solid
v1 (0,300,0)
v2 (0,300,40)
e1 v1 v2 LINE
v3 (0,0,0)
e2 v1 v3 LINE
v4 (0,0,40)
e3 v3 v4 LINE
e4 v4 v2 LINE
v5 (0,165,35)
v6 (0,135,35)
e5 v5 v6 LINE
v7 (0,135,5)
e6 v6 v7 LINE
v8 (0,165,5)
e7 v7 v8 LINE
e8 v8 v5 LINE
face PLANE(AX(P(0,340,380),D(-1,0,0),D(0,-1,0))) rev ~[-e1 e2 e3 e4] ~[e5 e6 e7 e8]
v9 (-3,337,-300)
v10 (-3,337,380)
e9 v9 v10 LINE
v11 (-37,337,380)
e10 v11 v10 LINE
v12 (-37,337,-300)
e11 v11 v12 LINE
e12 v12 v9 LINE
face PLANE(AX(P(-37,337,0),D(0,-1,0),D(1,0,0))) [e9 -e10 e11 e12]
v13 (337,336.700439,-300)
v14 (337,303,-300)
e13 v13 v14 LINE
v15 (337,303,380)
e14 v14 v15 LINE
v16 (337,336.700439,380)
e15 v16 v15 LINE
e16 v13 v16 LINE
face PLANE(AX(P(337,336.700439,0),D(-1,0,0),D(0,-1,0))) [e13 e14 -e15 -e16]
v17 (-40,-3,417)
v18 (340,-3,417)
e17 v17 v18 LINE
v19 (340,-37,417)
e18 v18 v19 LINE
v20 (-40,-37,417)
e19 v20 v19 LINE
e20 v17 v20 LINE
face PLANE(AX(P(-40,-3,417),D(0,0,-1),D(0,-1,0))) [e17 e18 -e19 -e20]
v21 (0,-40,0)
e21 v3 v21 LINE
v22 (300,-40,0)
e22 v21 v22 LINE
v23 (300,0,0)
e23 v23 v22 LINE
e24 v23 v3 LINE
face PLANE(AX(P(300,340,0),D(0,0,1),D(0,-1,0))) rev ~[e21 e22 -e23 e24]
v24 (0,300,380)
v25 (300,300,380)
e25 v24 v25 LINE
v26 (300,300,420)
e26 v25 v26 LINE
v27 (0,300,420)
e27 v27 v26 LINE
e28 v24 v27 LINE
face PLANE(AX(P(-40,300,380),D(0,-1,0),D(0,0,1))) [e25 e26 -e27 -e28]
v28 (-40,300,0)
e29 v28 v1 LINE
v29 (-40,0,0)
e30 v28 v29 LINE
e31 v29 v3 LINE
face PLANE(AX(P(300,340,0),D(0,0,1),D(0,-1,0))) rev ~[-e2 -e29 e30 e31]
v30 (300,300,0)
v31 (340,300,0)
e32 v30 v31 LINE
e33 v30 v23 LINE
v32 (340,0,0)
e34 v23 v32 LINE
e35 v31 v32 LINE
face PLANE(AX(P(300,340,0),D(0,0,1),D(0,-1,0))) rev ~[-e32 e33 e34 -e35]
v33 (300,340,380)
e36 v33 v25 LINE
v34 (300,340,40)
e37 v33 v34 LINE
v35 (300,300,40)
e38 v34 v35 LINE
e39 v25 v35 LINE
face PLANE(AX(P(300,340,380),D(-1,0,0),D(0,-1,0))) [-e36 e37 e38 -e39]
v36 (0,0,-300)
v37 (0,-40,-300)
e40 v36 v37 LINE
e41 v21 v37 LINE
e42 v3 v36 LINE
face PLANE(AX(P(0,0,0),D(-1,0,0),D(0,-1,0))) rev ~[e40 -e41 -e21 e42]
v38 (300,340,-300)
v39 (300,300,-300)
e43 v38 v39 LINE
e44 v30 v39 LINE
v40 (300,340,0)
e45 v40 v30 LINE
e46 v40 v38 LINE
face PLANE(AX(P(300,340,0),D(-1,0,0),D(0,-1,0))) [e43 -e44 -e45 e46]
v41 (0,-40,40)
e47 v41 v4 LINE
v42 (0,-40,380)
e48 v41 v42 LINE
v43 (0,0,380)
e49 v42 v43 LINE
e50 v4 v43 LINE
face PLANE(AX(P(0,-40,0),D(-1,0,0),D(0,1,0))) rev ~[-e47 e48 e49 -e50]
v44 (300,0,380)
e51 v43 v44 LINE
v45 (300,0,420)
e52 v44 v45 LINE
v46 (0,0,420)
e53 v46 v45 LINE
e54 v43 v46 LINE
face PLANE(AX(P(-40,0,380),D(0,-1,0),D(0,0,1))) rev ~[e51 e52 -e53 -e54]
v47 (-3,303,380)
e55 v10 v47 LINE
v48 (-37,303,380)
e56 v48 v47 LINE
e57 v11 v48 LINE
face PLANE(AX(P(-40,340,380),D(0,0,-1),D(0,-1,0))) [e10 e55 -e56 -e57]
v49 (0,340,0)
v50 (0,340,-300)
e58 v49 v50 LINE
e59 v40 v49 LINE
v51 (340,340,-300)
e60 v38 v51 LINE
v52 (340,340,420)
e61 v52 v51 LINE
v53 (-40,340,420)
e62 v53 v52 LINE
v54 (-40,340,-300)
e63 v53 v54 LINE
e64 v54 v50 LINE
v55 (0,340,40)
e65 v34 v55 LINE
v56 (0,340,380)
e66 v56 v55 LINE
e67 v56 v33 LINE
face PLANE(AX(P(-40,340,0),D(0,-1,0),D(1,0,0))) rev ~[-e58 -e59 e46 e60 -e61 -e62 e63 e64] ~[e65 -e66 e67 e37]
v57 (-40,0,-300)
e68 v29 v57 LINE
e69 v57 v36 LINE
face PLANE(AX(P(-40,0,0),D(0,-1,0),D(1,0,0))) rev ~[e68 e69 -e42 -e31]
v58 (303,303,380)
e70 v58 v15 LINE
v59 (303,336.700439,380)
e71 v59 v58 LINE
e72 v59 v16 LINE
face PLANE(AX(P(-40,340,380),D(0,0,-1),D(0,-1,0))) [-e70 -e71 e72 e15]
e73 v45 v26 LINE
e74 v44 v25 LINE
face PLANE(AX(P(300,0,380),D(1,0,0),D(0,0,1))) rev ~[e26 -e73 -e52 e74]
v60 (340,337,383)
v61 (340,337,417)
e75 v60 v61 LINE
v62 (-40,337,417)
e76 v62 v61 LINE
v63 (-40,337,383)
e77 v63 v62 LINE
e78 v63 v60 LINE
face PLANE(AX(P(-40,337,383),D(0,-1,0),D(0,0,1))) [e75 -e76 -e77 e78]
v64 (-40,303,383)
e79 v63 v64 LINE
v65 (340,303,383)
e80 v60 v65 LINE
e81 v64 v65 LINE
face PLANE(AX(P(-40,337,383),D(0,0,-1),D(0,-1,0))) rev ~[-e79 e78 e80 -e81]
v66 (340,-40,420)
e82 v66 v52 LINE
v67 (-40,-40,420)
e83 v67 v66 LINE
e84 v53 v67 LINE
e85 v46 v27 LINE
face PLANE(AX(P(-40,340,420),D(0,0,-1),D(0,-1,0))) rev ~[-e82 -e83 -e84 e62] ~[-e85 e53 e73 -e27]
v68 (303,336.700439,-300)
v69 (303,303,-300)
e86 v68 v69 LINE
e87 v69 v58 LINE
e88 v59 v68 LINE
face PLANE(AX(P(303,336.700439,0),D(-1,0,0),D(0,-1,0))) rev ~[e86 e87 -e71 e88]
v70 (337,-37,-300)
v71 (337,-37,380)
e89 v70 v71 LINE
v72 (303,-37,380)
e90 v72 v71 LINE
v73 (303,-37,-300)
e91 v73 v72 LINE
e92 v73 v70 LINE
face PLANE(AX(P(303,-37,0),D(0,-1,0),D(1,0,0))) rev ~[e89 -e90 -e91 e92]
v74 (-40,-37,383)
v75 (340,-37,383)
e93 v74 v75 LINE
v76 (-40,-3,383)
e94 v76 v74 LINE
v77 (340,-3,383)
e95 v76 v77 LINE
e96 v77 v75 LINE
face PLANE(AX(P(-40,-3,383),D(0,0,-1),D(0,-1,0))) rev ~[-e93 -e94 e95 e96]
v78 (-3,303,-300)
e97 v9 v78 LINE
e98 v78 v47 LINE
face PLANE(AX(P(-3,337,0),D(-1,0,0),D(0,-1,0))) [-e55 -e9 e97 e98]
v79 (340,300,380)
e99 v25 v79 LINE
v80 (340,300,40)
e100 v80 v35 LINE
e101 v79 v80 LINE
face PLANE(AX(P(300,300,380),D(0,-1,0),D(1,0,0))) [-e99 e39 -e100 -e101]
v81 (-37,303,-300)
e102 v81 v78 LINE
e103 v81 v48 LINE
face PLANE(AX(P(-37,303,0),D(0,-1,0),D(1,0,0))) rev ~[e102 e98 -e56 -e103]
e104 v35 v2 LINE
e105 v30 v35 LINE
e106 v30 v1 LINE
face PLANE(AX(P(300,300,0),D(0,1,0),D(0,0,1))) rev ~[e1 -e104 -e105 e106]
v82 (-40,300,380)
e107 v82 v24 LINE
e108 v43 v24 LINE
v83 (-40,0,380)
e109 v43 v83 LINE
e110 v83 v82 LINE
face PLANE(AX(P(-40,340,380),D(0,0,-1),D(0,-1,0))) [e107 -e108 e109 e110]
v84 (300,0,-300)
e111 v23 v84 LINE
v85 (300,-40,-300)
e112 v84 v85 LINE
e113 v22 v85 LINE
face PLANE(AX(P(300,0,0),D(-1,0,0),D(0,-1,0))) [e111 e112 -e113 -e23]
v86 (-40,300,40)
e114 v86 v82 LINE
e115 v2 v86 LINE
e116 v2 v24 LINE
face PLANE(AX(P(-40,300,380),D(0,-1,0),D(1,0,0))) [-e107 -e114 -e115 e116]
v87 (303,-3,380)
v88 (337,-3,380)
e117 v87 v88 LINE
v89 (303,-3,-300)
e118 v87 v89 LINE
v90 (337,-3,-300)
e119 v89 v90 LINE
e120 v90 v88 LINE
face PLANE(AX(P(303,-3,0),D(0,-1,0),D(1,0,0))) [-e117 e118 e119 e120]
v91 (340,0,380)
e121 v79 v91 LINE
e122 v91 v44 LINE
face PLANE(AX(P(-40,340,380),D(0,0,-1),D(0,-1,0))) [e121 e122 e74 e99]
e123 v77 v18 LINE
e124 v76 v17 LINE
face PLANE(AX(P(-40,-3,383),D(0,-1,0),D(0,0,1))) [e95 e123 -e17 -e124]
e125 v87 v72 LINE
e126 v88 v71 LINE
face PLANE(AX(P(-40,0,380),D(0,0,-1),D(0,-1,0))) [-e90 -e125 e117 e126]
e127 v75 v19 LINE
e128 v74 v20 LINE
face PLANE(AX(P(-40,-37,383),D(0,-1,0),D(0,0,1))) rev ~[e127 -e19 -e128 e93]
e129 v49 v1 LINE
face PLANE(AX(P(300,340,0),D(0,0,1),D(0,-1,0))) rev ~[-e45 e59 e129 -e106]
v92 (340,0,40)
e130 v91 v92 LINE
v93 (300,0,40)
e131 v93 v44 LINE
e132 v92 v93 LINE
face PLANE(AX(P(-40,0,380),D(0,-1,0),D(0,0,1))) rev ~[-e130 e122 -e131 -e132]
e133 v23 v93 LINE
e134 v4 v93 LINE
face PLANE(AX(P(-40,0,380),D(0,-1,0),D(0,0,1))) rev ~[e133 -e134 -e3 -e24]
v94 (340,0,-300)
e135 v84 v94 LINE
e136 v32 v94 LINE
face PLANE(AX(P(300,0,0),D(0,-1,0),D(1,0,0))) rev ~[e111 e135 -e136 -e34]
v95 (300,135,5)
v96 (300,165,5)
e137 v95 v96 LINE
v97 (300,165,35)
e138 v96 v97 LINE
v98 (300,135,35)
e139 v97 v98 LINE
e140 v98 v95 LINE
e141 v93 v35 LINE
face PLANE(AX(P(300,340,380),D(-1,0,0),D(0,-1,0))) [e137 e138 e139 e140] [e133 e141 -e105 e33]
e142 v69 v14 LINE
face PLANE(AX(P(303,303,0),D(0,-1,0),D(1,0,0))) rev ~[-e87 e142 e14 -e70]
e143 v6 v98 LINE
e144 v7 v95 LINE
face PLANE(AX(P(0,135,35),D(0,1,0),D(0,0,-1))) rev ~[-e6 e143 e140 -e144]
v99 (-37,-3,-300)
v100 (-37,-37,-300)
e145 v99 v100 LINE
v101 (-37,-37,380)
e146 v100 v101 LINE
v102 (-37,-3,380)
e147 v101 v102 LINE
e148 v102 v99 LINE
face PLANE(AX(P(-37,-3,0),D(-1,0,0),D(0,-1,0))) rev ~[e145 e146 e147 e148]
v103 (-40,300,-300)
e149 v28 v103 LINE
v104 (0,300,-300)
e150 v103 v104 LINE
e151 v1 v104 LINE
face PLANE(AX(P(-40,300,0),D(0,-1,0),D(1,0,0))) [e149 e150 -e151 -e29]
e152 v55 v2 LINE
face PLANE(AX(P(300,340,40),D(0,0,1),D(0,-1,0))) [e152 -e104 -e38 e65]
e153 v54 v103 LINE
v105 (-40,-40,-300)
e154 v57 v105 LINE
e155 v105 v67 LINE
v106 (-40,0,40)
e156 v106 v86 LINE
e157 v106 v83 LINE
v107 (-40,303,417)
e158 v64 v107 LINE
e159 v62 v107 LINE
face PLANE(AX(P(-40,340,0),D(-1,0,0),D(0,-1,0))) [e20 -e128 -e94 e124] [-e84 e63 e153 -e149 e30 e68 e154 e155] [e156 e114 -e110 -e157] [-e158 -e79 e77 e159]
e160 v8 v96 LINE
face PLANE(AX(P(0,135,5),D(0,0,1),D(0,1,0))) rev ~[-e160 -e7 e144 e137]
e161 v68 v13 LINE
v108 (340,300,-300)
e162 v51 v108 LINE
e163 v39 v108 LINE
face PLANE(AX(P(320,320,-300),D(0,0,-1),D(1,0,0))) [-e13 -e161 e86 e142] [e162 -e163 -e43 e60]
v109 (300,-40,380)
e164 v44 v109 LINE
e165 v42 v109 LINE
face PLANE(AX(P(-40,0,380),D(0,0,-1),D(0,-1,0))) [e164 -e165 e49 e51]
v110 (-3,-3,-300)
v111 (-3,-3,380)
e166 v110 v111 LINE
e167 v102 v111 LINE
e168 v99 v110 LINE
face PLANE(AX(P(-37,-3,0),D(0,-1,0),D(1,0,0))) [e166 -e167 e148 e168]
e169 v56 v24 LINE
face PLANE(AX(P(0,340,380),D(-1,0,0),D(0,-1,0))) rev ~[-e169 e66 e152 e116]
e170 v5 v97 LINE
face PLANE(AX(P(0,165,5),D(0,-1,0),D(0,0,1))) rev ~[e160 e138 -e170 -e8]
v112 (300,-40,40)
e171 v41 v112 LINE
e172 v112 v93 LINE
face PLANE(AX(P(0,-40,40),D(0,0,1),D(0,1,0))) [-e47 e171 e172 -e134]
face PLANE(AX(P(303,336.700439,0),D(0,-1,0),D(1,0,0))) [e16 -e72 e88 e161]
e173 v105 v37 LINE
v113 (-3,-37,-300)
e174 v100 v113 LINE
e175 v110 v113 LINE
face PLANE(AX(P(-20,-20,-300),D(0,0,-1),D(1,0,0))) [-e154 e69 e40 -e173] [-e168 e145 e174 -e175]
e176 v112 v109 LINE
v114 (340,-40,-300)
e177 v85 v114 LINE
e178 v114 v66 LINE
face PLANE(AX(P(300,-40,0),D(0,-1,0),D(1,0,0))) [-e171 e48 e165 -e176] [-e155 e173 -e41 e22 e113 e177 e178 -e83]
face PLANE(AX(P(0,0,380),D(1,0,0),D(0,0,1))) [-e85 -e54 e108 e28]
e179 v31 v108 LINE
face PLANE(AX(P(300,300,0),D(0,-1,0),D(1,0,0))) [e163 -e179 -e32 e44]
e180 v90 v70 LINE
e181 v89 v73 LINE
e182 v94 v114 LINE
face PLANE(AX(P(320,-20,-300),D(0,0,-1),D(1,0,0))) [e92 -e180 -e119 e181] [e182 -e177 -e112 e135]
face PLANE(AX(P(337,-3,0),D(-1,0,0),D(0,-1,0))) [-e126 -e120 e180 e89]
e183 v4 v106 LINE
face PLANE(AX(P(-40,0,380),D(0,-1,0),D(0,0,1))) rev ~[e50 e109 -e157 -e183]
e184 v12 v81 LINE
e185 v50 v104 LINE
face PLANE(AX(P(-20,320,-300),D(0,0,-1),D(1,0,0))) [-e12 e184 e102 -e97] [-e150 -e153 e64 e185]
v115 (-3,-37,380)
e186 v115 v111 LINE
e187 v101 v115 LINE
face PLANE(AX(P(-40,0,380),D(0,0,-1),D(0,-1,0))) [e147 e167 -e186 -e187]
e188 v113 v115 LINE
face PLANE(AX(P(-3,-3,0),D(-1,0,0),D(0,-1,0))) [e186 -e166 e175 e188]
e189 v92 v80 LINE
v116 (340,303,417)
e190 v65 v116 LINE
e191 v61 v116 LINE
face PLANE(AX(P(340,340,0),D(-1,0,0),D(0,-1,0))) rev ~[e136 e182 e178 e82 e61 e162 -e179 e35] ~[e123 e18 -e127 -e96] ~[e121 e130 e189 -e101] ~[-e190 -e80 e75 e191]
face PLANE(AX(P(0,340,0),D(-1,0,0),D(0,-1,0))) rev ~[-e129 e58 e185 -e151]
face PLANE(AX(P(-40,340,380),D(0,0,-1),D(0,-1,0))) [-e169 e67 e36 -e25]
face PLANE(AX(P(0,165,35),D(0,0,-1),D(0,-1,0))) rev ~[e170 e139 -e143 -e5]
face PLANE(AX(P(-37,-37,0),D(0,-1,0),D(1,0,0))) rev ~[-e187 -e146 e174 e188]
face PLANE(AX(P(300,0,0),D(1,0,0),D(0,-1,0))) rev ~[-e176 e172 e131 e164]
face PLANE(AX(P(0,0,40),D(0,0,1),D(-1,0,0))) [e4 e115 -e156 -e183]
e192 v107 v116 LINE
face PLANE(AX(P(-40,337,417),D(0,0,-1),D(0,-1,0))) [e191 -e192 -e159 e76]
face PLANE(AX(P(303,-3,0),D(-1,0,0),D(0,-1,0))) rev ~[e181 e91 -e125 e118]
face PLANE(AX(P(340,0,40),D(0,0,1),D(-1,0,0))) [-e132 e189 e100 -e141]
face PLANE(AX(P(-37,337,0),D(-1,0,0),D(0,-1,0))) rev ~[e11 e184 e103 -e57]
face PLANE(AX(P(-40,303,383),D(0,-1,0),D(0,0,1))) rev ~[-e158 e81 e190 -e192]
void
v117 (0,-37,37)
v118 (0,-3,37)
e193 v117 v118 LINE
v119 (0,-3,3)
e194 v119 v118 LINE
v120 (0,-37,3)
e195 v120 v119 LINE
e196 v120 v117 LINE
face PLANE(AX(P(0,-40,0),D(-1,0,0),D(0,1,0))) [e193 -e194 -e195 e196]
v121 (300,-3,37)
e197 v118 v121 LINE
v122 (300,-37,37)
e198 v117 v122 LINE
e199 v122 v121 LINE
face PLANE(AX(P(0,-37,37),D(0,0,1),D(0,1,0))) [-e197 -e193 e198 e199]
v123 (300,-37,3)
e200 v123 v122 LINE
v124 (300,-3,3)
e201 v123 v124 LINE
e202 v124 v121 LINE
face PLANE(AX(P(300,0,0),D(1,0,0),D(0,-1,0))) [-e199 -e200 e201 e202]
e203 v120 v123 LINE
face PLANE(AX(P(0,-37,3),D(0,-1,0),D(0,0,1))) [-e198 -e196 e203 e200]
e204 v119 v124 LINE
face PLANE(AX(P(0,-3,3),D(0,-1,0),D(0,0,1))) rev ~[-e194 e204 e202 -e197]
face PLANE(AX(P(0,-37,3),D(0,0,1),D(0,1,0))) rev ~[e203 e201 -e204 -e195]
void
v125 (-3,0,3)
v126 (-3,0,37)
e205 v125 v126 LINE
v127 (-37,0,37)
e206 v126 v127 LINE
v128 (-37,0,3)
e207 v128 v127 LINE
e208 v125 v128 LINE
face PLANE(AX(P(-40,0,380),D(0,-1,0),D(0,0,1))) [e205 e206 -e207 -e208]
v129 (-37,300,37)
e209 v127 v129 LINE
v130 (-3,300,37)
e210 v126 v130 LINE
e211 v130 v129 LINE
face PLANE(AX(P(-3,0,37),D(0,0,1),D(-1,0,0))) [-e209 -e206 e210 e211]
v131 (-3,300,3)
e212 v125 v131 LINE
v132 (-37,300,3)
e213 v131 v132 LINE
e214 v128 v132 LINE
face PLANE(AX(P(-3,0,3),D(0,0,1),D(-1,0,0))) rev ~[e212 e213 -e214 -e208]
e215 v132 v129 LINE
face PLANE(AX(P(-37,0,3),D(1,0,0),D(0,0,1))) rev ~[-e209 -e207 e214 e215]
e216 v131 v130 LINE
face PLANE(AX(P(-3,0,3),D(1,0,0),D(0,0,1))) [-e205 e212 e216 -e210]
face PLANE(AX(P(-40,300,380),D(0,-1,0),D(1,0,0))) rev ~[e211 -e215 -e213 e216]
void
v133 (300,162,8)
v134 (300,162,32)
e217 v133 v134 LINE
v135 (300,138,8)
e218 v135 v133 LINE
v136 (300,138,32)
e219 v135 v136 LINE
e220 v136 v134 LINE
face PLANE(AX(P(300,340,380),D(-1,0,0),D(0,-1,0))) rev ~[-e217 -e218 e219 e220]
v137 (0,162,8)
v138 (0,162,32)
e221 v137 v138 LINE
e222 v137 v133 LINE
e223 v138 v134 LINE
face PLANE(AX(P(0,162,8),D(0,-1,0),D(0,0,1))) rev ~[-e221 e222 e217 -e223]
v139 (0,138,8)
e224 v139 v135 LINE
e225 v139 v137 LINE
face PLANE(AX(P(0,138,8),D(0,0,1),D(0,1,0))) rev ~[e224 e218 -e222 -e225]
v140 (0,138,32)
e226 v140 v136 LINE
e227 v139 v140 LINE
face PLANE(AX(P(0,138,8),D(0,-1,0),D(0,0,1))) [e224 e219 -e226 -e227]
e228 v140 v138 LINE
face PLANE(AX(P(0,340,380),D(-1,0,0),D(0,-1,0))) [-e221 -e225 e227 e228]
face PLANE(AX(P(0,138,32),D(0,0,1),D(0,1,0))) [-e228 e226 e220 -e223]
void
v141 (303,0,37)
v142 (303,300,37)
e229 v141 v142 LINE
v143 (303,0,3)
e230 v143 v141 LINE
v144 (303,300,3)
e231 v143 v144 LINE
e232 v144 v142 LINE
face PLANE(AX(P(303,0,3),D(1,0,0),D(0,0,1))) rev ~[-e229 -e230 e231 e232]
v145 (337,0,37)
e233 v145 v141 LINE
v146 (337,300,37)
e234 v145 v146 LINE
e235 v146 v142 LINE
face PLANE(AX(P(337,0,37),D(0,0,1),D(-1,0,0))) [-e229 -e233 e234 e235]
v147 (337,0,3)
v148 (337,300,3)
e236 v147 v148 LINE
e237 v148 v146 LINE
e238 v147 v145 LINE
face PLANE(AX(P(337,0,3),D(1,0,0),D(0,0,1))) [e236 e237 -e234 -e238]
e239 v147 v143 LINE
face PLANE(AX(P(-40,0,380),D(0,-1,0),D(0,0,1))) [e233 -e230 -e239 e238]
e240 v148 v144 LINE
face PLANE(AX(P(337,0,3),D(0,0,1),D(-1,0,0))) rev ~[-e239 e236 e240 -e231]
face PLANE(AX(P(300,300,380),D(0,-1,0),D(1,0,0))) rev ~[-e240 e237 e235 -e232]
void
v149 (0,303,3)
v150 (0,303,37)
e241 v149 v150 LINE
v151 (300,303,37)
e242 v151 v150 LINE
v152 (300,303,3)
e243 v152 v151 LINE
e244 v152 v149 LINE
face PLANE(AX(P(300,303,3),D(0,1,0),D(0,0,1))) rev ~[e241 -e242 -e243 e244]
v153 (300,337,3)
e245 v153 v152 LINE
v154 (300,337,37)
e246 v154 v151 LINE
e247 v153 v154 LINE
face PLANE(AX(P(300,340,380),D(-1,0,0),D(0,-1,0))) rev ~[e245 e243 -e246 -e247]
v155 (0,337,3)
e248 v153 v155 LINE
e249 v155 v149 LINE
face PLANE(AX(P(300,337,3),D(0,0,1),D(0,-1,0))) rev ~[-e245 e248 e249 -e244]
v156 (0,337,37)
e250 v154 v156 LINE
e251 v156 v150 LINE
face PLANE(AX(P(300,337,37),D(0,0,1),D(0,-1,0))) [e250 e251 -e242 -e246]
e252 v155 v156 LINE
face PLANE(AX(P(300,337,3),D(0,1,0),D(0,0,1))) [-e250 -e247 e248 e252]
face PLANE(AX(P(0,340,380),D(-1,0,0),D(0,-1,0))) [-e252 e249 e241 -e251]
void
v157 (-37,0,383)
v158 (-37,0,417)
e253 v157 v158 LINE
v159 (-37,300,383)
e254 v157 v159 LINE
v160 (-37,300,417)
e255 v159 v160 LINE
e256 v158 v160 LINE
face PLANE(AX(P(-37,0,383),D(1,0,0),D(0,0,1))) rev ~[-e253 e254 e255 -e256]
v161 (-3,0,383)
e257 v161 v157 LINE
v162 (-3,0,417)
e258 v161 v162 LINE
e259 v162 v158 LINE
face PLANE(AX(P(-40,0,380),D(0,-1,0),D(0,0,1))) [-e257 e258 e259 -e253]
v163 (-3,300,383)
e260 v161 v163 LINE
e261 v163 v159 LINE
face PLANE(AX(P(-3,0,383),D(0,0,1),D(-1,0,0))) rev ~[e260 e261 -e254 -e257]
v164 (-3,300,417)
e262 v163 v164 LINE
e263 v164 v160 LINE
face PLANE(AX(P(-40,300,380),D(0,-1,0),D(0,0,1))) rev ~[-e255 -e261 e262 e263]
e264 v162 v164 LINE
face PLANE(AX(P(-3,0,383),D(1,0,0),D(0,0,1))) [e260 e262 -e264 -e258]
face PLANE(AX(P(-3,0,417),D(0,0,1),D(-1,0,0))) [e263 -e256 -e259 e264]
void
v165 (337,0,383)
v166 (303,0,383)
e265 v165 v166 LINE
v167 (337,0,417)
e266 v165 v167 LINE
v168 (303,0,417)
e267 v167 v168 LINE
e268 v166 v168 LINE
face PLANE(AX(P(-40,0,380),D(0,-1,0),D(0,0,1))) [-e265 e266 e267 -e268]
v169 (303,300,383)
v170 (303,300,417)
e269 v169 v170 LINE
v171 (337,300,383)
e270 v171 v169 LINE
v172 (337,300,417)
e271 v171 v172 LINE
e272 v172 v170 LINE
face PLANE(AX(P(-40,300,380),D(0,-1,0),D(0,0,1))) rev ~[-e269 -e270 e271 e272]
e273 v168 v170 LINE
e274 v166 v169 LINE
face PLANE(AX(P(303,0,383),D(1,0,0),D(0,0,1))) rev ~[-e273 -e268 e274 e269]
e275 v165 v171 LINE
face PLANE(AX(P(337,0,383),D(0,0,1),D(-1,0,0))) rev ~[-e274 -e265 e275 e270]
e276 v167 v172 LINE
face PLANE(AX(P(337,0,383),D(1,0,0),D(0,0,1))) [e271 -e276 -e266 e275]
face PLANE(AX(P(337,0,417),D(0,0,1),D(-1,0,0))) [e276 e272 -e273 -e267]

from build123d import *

# Parameters (mm, degrees)
F0_W      = 40
F0_H      = 40
F0_W_2    = 34
F0_H_2    = 34
F1_DEPTH  = 380
F2_W      = 40
F2_H      = 40
F2_W_2    = 34
F2_H_2    = 34
F3_DEPTH  = 300
F4_W      = 40
F4_H      = 40
F4_W_2    = 34
F4_H_2    = 34
F5_DEPTH  = 380
F6_W      = 40
F6_H      = 40
F6_W_2    = 34
F6_H_2    = 34
F7_DEPTH  = 380
F8_W      = 40
F8_H      = 40
F8_W_2    = 34
F8_H_2    = 34
F9_DEPTH  = 300
F10_W     = 40
F10_H     = 40
F10_W_2   = 34
F10_H_2   = 34
F11_DEPTH = 300
F12_W     = 40
F12_H     = 40
F12_W_2   = 34
F12_H_2   = 34
F13_DEPTH = 300
F14_W     = 40
F14_H     = 40
F14_W_2   = 34
F14_H_2   = 34
F15_DEPTH = 300
F16_W     = 40
F16_H     = 40
F16_W_2   = 34
F16_H_2   = 34
F17_DEPTH = 380
F18_W     = 40
F18_H     = 40
F18_W_2   = 34
F18_H_2   = 33.7004394531
F19_DEPTH = 380
F20_W     = 40
F20_H     = 40
F20_W_2   = 34
F20_H_2   = 34
F21_DEPTH = 380
F22_DEPTH = 25
F23_W     = 40
F23_H     = 40
F23_W_2   = 34
F23_H_2   = 34
F24_DEPTH = 300
F25_W     = 40
F25_H     = 40
F25_W_2   = 34
F25_H_2   = 34
F26_DEPTH = 300
F27_W     = 40
F27_H     = 40
F27_W_2   = 34
F27_H_2   = 34
F28_DEPTH = 300
F29_W     = 40
F29_H     = 40
F29_W_2   = 34
F29_H_2   = 33.7004394531
F31_DEPTH = 300
F32_W     = 40
F32_H     = 40
F32_W_2   = 34
F32_H_2   = 34
F33_DEPTH = 300
F34_W     = 24
F34_H     = 24
F35_DEPTH = 300


with BuildPart() as f1:
    # F0 (on Top) → F1 (new body)
    with BuildSketch(Plane.XY):
        with Locations((-20, -20)):
            Rectangle(F0_W, F0_H)
        with Locations((-20, -20)):
            Rectangle(F0_W_2, F0_H_2, mode=Mode.SUBTRACT)
    extrude(amount=F1_DEPTH)

    # F2 (on face) → F3 (join)
    with BuildSketch(Plane.YZ):
        with Locations((-20, 20)):
            Rectangle(F2_W, F2_H)
        with Locations((-20, 20)):
            Rectangle(F2_W_2, F2_H_2, mode=Mode.SUBTRACT)
    extrude(amount=F3_DEPTH)

    # F4 (on face) → F5 (join)
    with BuildSketch(Plane(origin=(0, 0, 0), x_dir=(1, 0, 0), z_dir=(0, 0, -1))):
        with Locations((320, 20)):
            Rectangle(F4_W, F4_H)
        with Locations((320, 20)):
            Rectangle(F4_W_2, F4_H_2, mode=Mode.SUBTRACT)
    extrude(amount=-F5_DEPTH)

    # F6 (on face) → F7 (join)
    with BuildSketch(Plane(origin=(-40, 0, 0), x_dir=(0, -1, 0), z_dir=(-1, 0, 0))):
        with Locations((20, 400)):
            Rectangle(F6_W, F6_H)
        with Locations((20, 400)):
            Rectangle(F6_W_2, F6_H_2, mode=Mode.SUBTRACT)
    extrude(amount=-F7_DEPTH)

    # F8 (on face) → F9 (join)
    with BuildSketch(Plane(origin=(0, 0, 0), x_dir=(-1, 0, 0), z_dir=(0, 1, 0))):
        with Locations((20, 20)):
            Rectangle(F8_W, F8_H)
        with Locations((20, 20)):
            Rectangle(F8_W_2, F8_H_2, mode=Mode.SUBTRACT)
    extrude(amount=F9_DEPTH)

    # F10 (on face) → F11 (join)
    with BuildSketch(Plane(origin=(0, 0, 0), x_dir=(-1, 0, 0), z_dir=(0, 1, 0))):
        with Locations((-320, 20)):
            Rectangle(F10_W, F10_H)
        with Locations((-320, 20)):
            Rectangle(F10_W_2, F10_H_2, mode=Mode.SUBTRACT)
    extrude(amount=F11_DEPTH)

    # F12 (on face) → F13 (join)
    with BuildSketch(Plane(origin=(0, 0, 0), x_dir=(-1, 0, 0), z_dir=(0, 1, 0))):
        with Locations((-320, 400)):
            Rectangle(F12_W, F12_H)
        with Locations((-320, 400)):
            Rectangle(F12_W_2, F12_H_2, mode=Mode.SUBTRACT)
    extrude(amount=F13_DEPTH)

    # F14 (on face) → F15 (join)
    with BuildSketch(Plane(origin=(0, 0, 0), x_dir=(-1, 0, 0), z_dir=(0, 1, 0))):
        with Locations((20, 400)):
            Rectangle(F14_W, F14_H)
        with Locations((20, 400)):
            Rectangle(F14_W_2, F14_H_2, mode=Mode.SUBTRACT)
    extrude(amount=F15_DEPTH)

    # F16 (on face) → F17 (join)
    with BuildSketch(Plane(origin=(-40, 0, 0), x_dir=(0, -1, 0), z_dir=(-1, 0, 0))):
        with Locations((-320, 400)):
            Rectangle(F16_W, F16_H)
        with Locations((-320, 400)):
            Rectangle(F16_W_2, F16_H_2, mode=Mode.SUBTRACT)
    extrude(amount=-F17_DEPTH)

    # F18 (on face) → F19 (join)
    with BuildSketch(Plane(origin=(0, 0, 380), x_dir=(1, 0, 0), z_dir=(0, 0, -1))):
        with Locations((320, -320)):
            Rectangle(F18_W, F18_H)
        with Locations((320, -319.8502197266)):
            Rectangle(F18_W_2, F18_H_2, mode=Mode.SUBTRACT)
    extrude(amount=F19_DEPTH)

    # F20 (on face) → F21 (join)
    with BuildSketch(Plane(origin=(0, 0, 380), x_dir=(1, 0, 0), z_dir=(0, 0, -1))):
        with Locations((-20, -320)):
            Rectangle(F20_W, F20_H)
        with Locations((-20, -320)):
            Rectangle(F20_W_2, F20_H_2, mode=Mode.SUBTRACT)
    extrude(amount=F21_DEPTH)

    # F20 (on face) → F22 (join)
    with BuildSketch(Plane(origin=(0, 0, 380), x_dir=(1, 0, 0), z_dir=(0, 0, -1))):
        with Locations((-20, -320)):
            Rectangle(F20_W, F20_H)
        with Locations((-20, -320)):
            Rectangle(F20_W_2, F20_H_2, mode=Mode.SUBTRACT)
    extrude(amount=F22_DEPTH)

    # F23 (on face) → F24 (join)
    with BuildSketch(Plane(origin=(300, 0, 0), x_dir=(0, -1, 0), z_dir=(-1, 0, 0))):
        with Locations((-320, 20)):
            Rectangle(F23_W, F23_H)
        with Locations((-320, 20)):
            Rectangle(F23_W_2, F23_H_2, mode=Mode.SUBTRACT)
    extrude(amount=F24_DEPTH)

    # F25 (on face) → F26 (join)
    with BuildSketch(Plane(origin=(0, 0, 0), x_dir=(1, 0, 0), z_dir=(0, 0, -1))):
        with Locations((-20, 20)):
            Rectangle(F25_W, F25_H)
        with Locations((-20, 20)):
            Rectangle(F25_W_2, F25_H_2, mode=Mode.SUBTRACT)
    extrude(amount=F26_DEPTH)

    # F27 (on face) → F28 (join)
    with BuildSketch(Plane(origin=(0, 0, 0), x_dir=(1, 0, 0), z_dir=(0, 0, -1))):
        with Locations((320, 20)):
            Rectangle(F27_W, F27_H)
        with Locations((320, 20)):
            Rectangle(F27_W_2, F27_H_2, mode=Mode.SUBTRACT)
    extrude(amount=F28_DEPTH)

    # F29 (on face) → F31 (join)
    with BuildSketch(Plane(origin=(0, 0, 0), x_dir=(1, 0, 0), z_dir=(0, 0, -1))):
        with Locations((320, -320)):
            Rectangle(F29_W, F29_H)
        with Locations((320, -319.8502197266)):
            Rectangle(F29_W_2, F29_H_2, mode=Mode.SUBTRACT)
    extrude(amount=F31_DEPTH)

    # F32 (on face) → F33 (join)
    with BuildSketch(Plane(origin=(0, 0, 0), x_dir=(1, 0, 0), z_dir=(0, 0, -1))):
        with Locations((-20, -320)):
            Rectangle(F32_W, F32_H)
        with Locations((-20, -320)):
            Rectangle(F32_W_2, F32_H_2, mode=Mode.SUBTRACT)
    extrude(amount=F33_DEPTH)

    # F34 (on face) → F35 (join)
    with BuildSketch(Plane.YZ):
        Polygon((165, 35), (150, 35), (135, 35), (135, 5), (165, 5), align=None)
        with Locations((150, 20)):
            Rectangle(F34_W, F34_H, mode=Mode.SUBTRACT)
    extrude(amount=F35_DEPTH)


solid = f1.part
